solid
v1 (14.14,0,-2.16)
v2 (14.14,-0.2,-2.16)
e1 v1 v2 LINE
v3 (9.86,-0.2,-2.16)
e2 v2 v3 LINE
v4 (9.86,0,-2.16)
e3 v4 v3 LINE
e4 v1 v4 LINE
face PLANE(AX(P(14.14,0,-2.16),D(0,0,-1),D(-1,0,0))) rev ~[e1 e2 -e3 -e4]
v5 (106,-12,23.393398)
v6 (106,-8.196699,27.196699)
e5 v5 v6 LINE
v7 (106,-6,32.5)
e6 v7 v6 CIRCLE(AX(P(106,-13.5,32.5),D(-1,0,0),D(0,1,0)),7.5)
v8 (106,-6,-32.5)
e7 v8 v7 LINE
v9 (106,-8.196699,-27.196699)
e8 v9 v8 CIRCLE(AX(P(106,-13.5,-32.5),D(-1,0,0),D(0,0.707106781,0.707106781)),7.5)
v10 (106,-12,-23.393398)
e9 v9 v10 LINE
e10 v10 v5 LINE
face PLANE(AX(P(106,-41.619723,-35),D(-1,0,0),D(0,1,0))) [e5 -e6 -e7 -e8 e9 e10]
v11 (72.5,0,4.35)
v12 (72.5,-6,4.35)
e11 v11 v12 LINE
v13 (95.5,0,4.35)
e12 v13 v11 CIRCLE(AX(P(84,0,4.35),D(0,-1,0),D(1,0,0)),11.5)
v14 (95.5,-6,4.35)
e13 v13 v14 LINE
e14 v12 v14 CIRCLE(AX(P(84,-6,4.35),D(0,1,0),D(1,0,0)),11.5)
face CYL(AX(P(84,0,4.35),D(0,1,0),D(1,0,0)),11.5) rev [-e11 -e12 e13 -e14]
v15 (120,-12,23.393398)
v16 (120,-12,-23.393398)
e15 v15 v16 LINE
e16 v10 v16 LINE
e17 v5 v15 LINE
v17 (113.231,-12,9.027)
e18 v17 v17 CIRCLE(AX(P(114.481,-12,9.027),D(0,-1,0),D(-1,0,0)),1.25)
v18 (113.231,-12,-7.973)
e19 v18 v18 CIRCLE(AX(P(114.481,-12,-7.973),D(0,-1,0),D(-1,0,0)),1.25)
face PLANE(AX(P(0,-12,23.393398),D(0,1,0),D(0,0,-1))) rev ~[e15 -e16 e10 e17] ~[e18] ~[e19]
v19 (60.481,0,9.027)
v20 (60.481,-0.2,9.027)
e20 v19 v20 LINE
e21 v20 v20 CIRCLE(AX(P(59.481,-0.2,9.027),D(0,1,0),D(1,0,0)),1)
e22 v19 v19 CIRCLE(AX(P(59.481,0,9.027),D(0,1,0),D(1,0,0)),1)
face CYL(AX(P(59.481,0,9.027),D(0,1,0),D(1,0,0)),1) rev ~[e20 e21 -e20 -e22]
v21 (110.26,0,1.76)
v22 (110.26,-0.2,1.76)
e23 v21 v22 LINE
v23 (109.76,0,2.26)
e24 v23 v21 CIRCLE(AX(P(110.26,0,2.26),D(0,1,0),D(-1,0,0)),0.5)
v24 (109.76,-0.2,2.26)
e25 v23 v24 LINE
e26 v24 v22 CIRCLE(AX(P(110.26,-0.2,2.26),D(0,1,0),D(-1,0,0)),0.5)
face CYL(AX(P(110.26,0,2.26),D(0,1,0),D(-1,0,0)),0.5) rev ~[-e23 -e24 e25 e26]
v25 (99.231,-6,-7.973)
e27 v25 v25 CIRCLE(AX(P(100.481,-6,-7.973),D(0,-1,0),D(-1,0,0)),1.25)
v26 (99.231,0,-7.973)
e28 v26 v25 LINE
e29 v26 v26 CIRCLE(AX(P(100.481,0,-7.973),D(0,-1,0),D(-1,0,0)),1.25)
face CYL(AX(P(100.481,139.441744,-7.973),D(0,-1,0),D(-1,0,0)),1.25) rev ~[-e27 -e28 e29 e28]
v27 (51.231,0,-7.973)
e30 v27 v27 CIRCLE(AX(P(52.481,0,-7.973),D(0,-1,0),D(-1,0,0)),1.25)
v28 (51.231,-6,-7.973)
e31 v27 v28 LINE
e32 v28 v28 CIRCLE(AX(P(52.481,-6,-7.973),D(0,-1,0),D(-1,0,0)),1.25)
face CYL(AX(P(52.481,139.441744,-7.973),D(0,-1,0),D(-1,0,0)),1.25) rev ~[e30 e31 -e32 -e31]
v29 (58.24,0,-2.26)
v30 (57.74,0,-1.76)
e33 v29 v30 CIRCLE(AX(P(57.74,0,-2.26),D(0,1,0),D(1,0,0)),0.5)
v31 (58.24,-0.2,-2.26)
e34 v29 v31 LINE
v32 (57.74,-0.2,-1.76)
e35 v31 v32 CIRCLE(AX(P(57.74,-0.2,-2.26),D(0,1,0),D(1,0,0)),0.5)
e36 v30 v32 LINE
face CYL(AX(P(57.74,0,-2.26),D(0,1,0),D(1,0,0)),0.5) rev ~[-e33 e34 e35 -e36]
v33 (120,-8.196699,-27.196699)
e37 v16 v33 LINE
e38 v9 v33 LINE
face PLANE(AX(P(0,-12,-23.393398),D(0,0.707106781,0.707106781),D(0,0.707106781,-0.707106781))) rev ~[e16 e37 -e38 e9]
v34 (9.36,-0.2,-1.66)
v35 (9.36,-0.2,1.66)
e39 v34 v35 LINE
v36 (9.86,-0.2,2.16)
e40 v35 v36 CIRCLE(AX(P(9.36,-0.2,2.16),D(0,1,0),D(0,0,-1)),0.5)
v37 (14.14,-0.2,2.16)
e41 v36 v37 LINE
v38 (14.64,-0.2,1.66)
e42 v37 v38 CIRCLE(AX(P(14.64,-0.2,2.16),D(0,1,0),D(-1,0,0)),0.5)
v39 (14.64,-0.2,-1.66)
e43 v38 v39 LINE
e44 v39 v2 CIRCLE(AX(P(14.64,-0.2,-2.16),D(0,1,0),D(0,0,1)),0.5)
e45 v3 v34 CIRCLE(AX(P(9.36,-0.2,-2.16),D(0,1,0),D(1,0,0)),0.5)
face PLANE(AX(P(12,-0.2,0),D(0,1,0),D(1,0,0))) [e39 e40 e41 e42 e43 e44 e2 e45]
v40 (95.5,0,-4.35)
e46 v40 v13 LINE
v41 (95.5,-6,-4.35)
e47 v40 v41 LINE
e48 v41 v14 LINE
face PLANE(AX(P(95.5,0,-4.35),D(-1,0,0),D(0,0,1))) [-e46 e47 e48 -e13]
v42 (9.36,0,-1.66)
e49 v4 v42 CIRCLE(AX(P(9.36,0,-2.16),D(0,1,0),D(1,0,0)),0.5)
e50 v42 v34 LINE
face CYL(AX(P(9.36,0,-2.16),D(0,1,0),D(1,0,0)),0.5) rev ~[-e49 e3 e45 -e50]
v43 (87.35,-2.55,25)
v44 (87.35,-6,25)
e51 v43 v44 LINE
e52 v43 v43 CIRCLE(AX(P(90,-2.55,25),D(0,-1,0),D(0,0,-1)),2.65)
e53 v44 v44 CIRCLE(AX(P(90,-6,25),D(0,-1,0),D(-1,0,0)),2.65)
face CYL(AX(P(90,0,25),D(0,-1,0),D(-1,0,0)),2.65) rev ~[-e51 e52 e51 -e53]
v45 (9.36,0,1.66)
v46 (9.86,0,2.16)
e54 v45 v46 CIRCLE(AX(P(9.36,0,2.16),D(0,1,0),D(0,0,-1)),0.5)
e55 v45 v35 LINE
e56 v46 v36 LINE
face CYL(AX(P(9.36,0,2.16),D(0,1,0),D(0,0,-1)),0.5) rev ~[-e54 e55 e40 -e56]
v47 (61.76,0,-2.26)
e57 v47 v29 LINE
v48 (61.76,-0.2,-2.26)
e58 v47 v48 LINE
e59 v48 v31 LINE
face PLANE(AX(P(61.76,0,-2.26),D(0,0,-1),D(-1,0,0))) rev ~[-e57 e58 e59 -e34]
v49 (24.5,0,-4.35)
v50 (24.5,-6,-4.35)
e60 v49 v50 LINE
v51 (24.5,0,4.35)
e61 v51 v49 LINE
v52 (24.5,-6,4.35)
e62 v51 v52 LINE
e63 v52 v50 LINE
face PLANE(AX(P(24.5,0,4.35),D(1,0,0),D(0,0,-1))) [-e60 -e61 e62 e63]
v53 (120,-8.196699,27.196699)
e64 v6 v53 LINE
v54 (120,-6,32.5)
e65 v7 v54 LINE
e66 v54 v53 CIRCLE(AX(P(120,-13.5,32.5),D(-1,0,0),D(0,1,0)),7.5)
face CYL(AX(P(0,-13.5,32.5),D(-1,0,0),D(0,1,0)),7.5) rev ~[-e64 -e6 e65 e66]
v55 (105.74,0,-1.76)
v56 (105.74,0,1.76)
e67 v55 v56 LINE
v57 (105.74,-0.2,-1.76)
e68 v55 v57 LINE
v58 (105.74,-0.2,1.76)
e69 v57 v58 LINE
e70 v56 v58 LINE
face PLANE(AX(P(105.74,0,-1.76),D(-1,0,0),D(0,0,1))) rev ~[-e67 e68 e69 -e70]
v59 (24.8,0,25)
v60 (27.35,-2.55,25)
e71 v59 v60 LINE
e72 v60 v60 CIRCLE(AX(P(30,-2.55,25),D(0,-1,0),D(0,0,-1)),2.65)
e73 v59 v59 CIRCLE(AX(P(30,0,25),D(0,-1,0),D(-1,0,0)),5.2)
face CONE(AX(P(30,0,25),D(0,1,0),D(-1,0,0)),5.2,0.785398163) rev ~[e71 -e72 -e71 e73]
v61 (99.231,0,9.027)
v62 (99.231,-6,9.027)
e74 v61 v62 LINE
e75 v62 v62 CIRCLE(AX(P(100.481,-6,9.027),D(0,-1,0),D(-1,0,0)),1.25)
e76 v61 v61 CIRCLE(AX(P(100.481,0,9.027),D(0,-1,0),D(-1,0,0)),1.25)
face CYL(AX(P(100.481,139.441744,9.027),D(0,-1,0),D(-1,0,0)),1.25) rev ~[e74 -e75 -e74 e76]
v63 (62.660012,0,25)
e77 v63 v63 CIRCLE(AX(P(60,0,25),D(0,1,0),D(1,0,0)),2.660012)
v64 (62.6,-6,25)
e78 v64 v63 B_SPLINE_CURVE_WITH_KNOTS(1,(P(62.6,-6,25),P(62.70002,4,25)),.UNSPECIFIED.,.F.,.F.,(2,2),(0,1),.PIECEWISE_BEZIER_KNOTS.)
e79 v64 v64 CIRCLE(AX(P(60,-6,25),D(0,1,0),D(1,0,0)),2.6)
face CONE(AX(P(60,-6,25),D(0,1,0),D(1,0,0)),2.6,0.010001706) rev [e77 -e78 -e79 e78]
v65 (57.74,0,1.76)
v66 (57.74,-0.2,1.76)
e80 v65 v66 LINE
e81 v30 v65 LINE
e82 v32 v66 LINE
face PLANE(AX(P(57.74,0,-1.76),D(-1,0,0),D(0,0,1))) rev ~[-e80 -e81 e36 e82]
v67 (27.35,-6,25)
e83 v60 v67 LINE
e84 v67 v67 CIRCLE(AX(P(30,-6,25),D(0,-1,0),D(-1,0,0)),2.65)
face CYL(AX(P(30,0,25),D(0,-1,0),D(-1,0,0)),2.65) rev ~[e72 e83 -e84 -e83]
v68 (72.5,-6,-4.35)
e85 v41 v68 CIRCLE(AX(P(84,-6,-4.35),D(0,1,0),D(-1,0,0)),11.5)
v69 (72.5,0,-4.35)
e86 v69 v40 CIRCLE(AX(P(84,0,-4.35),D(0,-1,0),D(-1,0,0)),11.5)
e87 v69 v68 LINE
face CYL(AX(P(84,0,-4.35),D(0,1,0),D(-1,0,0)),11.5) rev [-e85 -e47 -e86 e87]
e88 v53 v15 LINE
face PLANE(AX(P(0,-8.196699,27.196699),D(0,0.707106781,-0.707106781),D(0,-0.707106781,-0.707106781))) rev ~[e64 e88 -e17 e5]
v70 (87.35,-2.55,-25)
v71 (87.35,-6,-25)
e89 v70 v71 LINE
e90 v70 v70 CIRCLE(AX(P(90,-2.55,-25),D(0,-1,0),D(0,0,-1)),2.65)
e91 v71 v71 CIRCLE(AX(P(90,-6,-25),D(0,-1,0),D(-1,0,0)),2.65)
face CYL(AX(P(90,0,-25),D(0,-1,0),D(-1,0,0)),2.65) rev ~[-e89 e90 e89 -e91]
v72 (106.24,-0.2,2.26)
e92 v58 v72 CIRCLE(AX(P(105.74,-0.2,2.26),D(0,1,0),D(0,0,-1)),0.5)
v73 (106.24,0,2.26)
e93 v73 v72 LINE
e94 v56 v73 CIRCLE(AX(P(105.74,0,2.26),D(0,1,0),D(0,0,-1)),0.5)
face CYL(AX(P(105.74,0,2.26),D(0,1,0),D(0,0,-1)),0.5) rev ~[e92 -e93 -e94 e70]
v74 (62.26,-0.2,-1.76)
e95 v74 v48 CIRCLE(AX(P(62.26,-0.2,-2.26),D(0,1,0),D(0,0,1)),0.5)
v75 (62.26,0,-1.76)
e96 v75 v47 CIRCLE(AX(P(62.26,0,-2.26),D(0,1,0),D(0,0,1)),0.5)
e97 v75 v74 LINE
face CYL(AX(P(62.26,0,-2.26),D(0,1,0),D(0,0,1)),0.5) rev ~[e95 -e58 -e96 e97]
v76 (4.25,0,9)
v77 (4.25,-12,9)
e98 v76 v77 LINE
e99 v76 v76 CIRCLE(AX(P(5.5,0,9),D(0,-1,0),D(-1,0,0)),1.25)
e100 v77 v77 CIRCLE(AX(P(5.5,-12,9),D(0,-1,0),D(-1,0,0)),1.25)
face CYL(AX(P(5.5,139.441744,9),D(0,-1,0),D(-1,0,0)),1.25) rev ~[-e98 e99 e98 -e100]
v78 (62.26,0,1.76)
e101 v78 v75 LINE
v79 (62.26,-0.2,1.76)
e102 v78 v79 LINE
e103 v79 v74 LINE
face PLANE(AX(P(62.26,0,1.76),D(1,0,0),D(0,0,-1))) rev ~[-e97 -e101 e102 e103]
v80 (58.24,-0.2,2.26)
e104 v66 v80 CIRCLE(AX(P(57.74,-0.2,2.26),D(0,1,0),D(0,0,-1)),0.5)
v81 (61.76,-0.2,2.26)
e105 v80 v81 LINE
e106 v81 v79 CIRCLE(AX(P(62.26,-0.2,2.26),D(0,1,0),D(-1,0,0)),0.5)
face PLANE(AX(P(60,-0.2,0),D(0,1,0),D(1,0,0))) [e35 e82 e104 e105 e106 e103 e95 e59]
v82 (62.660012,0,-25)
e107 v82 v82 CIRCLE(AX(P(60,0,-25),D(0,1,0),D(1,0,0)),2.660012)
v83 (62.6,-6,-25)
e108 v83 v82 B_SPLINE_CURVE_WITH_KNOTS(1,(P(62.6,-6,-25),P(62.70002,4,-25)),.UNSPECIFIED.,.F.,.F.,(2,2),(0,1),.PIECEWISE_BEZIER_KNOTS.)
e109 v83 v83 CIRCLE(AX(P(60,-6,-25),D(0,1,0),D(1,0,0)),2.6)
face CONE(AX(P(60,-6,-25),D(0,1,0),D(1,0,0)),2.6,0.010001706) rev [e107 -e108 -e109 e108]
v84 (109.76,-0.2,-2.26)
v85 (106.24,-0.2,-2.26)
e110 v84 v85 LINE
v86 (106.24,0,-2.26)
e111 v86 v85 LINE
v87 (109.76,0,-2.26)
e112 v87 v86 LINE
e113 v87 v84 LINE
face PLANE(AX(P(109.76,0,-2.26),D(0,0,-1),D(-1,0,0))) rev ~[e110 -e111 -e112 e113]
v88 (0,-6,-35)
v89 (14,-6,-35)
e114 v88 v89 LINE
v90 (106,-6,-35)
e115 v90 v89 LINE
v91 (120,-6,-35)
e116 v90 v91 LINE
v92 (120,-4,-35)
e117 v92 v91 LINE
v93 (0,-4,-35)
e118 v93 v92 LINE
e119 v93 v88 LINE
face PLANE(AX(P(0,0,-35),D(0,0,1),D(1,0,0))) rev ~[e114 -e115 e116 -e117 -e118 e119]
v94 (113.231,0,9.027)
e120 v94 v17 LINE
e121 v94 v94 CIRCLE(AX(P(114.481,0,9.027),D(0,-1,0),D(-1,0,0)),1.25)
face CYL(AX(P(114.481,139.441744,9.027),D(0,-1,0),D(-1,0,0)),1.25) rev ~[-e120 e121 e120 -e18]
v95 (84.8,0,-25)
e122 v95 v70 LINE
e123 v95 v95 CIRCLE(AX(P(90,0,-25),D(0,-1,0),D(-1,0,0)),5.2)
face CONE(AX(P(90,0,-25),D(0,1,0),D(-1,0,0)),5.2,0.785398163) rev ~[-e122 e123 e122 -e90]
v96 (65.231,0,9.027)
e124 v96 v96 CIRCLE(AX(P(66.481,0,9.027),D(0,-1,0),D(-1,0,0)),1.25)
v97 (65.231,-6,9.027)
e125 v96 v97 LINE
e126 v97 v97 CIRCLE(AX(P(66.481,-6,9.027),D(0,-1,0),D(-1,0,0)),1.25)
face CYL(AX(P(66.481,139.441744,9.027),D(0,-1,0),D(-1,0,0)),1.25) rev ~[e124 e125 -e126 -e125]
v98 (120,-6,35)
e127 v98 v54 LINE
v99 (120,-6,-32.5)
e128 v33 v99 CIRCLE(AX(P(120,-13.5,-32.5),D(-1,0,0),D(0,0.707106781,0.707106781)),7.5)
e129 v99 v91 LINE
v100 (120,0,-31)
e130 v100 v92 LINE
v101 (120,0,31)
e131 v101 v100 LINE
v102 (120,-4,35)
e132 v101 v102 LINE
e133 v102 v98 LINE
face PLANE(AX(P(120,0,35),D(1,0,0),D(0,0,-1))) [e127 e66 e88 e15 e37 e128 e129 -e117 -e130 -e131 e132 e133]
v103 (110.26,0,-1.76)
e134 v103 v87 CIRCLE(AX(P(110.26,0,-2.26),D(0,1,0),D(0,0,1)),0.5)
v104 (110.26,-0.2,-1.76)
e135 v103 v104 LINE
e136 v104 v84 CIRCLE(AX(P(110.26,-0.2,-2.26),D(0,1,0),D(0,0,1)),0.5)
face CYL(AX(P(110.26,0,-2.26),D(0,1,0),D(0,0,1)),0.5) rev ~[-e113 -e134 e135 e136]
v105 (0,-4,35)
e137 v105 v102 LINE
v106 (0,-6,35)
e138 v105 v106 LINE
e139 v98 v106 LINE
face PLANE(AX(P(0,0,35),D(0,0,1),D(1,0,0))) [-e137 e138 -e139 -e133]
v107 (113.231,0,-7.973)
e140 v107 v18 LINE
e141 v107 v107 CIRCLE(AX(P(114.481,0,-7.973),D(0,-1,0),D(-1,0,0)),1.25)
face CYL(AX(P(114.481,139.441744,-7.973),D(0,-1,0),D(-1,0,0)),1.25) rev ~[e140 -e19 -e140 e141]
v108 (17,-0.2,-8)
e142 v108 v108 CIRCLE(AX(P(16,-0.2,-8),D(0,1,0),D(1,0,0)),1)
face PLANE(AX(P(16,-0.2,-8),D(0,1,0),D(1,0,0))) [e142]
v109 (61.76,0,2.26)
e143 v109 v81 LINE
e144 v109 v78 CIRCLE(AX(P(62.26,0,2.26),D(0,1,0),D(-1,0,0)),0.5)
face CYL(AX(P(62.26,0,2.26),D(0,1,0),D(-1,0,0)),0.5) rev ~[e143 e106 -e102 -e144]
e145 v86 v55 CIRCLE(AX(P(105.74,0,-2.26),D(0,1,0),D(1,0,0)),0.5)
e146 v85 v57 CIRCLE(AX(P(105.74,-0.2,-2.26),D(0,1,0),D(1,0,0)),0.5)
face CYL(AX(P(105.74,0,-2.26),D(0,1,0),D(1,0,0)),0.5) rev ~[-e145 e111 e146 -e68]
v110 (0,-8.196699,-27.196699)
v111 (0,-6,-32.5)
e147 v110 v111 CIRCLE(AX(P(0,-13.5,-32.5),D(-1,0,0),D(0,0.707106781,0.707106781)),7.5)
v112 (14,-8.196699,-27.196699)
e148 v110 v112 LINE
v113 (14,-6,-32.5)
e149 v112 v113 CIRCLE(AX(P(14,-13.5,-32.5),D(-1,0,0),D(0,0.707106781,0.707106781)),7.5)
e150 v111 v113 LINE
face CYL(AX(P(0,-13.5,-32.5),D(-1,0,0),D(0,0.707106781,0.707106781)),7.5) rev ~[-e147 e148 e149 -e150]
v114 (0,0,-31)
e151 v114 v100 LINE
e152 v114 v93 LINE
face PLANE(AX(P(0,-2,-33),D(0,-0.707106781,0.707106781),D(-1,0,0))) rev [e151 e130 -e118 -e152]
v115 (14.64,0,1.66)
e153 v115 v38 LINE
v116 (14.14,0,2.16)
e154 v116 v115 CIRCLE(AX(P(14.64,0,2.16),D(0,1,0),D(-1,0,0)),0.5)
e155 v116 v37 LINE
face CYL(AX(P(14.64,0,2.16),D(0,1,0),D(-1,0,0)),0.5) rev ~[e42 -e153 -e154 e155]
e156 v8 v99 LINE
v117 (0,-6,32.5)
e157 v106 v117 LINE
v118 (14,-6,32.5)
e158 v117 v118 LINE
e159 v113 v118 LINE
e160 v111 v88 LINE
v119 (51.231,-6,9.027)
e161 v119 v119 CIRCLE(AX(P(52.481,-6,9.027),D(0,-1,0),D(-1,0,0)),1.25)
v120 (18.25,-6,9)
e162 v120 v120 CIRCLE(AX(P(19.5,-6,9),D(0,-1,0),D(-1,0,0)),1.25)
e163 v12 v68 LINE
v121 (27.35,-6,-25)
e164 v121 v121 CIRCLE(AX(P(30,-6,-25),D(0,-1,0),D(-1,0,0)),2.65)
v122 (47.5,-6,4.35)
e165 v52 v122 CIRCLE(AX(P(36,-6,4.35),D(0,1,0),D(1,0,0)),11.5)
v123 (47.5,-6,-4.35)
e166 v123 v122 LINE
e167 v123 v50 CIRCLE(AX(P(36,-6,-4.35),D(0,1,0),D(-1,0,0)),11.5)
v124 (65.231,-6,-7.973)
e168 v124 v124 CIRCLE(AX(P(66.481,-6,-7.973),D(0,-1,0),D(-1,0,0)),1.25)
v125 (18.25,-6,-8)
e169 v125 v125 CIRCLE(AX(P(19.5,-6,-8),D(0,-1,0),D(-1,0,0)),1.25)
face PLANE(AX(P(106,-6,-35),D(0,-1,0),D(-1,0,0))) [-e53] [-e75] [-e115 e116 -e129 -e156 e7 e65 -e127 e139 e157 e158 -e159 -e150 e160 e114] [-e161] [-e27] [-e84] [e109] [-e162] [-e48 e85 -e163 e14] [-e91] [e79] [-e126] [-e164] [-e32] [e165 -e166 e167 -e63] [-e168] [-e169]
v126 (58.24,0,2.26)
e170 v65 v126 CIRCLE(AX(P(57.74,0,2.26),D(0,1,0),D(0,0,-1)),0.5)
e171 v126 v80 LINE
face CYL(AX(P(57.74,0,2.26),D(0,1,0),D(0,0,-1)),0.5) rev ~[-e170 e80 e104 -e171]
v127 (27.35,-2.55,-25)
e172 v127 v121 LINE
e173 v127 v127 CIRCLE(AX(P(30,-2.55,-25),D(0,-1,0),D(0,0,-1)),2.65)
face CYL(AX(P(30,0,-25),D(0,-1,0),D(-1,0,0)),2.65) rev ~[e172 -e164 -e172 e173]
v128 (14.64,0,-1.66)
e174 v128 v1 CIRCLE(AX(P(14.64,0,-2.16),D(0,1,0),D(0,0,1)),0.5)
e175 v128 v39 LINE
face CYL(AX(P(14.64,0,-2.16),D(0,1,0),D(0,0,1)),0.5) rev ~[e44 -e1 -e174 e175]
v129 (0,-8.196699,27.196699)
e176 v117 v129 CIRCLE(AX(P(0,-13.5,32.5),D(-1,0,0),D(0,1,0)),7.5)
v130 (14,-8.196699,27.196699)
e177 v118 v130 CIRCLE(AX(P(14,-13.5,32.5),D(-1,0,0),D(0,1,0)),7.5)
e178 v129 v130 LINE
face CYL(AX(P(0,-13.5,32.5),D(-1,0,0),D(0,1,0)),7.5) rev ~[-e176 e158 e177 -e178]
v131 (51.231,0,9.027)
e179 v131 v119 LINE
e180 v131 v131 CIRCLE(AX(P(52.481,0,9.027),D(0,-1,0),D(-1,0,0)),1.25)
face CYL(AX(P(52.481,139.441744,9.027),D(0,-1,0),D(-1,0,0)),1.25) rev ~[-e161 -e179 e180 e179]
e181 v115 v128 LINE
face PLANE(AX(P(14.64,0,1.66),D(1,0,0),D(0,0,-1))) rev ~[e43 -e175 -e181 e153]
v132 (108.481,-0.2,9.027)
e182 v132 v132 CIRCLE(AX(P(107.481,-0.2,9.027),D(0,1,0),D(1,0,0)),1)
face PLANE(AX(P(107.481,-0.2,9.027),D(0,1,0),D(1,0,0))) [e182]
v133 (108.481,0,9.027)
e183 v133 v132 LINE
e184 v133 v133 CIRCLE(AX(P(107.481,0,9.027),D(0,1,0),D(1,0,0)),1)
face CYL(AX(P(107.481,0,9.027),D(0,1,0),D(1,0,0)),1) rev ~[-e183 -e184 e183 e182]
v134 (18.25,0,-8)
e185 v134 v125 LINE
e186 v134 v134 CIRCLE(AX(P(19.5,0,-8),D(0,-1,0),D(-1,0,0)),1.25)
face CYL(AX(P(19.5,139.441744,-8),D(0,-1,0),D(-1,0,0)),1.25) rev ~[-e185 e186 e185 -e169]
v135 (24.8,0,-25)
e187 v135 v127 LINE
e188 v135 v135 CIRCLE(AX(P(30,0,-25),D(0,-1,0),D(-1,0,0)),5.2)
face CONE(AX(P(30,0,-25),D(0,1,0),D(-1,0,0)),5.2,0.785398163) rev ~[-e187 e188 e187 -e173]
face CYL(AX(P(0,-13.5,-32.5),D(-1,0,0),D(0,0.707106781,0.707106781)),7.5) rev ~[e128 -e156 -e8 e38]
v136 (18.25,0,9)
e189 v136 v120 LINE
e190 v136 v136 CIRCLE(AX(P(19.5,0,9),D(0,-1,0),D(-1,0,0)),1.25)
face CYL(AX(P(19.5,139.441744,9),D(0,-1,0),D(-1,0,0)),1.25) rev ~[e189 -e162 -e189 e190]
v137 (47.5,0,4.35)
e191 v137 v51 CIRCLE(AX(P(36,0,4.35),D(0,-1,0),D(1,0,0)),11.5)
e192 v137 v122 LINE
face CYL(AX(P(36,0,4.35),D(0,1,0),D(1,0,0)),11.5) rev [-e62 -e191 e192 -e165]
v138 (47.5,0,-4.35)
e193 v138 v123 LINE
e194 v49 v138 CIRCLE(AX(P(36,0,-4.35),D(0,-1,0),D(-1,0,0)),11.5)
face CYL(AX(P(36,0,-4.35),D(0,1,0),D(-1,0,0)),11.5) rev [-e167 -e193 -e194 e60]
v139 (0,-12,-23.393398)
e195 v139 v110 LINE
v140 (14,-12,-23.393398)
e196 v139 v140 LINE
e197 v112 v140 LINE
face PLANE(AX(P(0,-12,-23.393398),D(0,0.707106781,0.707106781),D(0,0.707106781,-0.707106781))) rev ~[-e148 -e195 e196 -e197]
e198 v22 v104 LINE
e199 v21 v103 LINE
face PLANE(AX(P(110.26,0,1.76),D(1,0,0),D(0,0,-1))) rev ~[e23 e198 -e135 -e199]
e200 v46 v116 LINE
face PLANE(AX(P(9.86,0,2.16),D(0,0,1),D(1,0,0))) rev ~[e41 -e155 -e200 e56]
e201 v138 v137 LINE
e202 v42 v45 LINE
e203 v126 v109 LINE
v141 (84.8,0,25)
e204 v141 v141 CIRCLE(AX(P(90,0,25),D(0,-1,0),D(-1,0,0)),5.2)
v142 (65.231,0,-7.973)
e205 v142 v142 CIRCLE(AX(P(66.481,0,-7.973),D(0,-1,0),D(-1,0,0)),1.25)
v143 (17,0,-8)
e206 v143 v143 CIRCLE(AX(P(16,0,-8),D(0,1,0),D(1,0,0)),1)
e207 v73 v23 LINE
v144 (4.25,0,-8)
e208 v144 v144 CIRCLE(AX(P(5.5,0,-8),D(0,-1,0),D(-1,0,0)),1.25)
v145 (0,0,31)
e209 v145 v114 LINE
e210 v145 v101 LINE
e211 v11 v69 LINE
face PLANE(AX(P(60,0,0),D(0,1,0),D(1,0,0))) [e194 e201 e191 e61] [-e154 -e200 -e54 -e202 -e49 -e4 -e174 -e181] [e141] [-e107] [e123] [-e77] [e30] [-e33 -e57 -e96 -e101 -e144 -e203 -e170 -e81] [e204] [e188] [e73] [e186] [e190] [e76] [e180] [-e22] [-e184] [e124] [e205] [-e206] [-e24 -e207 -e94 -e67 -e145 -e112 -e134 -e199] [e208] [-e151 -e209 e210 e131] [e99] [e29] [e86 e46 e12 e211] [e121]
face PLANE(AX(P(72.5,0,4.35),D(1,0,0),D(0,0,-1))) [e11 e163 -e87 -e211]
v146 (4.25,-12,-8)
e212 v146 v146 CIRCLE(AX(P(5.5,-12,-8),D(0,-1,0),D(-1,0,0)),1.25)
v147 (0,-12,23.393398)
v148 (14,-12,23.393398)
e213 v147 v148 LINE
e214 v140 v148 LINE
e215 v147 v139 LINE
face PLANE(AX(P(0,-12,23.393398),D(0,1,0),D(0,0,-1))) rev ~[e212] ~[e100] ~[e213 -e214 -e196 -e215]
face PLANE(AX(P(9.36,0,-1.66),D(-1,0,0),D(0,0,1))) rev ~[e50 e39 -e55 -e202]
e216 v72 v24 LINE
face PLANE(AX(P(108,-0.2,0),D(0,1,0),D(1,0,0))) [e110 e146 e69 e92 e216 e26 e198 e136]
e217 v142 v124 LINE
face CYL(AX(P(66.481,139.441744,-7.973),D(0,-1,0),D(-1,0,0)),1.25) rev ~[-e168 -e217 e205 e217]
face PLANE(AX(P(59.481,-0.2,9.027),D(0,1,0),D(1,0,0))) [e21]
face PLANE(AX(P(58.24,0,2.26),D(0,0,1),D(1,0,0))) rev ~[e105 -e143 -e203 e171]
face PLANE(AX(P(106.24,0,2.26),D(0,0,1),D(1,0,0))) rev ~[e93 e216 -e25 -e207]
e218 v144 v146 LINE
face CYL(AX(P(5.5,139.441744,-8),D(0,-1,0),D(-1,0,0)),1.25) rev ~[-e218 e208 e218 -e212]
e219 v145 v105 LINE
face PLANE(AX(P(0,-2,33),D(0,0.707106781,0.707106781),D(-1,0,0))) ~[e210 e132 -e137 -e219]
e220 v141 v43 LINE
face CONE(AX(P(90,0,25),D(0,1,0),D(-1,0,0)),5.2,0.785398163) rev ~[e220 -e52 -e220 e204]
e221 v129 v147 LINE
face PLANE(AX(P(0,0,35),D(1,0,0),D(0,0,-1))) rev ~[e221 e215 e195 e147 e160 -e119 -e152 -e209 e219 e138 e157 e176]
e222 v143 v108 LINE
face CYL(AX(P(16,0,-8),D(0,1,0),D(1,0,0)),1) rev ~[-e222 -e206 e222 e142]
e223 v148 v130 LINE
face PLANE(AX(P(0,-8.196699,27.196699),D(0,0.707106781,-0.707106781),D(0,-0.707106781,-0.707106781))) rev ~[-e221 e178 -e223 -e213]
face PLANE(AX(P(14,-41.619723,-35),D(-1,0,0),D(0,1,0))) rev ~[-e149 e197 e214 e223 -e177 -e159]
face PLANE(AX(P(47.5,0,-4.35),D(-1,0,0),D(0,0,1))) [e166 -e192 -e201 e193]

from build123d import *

# Parameters (mm, degrees)
SKETCH_5_W                  = 120
SKETCH_5_H                  = 70
EXTRUDE_2_DEPTH             = 6
SKETCH1_R                   = 1
CUT_EXTRUDE1_DEPTH          = 0.2
SKETCH2_R                   = 1
CUT_EXTRUDE2_DEPTH          = 0.2
HOLE_WIZARD_M51_D           = 5.3
HOLE_WIZARD_M51_CSINK_D     = 10.4
HOLE_WIZARD_M51_CSINK_ANGLE = 90
SKETCH5_R                   = 2.6
CUT_EXTRUDE4_DEPTH          = 10
CUT_EXTRUDE4_TAPER          = -0.573055556
CUT_EXTRUDE_1_DEPTH         = 7.0000001
EXTRUDE_3_DEPTH             = 120
SKETCH_8_W                  = 92
SKETCH_8_H                  = 35.619722669
CUT_EXTRUDE_2_DEPTH         = 71
CHAMFER_1_SIZE              = 4
M3X0_51_D                   = 2.5


with BuildPart() as part:
    # Эскиз5 → Бобышка-Вытянуть2 (new body)
    with BuildSketch(Plane(origin=(0, 0, 0), x_dir=(1, 0, 0), z_dir=(0, 1, 0))):
        with Locations((60, 0)):
            Rectangle(SKETCH_5_W, SKETCH_5_H)
    extrude(amount=-EXTRUDE_2_DEPTH)

    # Sketch1 → Cut-Extrude1 (cut)
    with BuildSketch(Plane(origin=(0, 0, 0), x_dir=(1, 0, 0), z_dir=(0, 1, 0))):
        with Locations((16, 8)):
            Circle(SKETCH1_R)
        with BuildLine():
            Line((9.86, -2.16), (14.14, -2.16))
            ThreePointArc((14.14, -2.16), (14.993553391, -2.513553391), (14.64, -1.66))
            Line((14.64, -1.66), (14.64, 1.66))
            ThreePointArc((14.64, 1.66), (14.993553391, 2.513553391), (14.14, 2.16))
            Line((14.14, 2.16), (9.86, 2.16))
            ThreePointArc((9.86, 2.16), (9.006446609, 2.513553391), (9.36, 1.66))
            Line((9.36, 1.66), (9.36, -1.66))
            ThreePointArc((9.36, -1.66), (9.006446609, -2.513553391), (9.86, -2.16))
        make_face()
    extrude(amount=-CUT_EXTRUDE1_DEPTH, mode=Mode.SUBTRACT)

    # Sketch2 → Cut-Extrude2 (cut)
    with BuildSketch(Plane(origin=(0, 0, 0), x_dir=(1, 0, 0), z_dir=(0, 1, 0))):
        with Locations((59.481, -9.027)):
            Circle(SKETCH2_R)
        with Locations((107.481, -9.027)):
            Circle(SKETCH2_R)
        with BuildLine():
            Line((57.74, 1.76), (57.74, -1.76))
            ThreePointArc((57.74, -1.76), (57.386446609, -2.613553391), (58.24, -2.26))
            Line((58.24, -2.26), (61.76, -2.26))
            ThreePointArc((61.76, -2.26), (62.613553391, -2.613553391), (62.26, -1.76))
            Line((62.26, -1.76), (62.26, 1.76))
            ThreePointArc((62.26, 1.76), (62.613553391, 2.613553391), (61.76, 2.26))
            Line((61.76, 2.26), (58.24, 2.26))
            ThreePointArc((58.24, 2.26), (57.386446609, 2.613553391), (57.74, 1.76))
        make_face()
        with BuildLine():
            Line((105.74, 1.76), (105.74, -1.76))
            ThreePointArc((105.74, -1.76), (105.386446609, -2.613553391), (106.24, -2.26))
            Line((106.24, -2.26), (109.76, -2.26))
            ThreePointArc((109.76, -2.26), (110.613553391, -2.613553391), (110.26, -1.76))
            Line((110.26, -1.76), (110.26, 1.76))
            ThreePointArc((110.26, 1.76), (110.613553391, 2.613553391), (109.76, 2.26))
            Line((109.76, 2.26), (106.24, 2.26))
            ThreePointArc((106.24, 2.26), (105.386446609, 2.613553391), (105.74, 1.76))
        make_face()
    extrude(amount=-CUT_EXTRUDE2_DEPTH, mode=Mode.SUBTRACT)

    # Зенковка для  винта с плоской головкой M51 (through all)
    with Locations(Plane(origin=(0, 0, 0), x_dir=(1, 0, 0), z_dir=(0, 1, 0))):
        with Locations((30, 25), (90, 25), (90, -25), (30, -25)):
            CounterSinkHole(HOLE_WIZARD_M51_D / 2, HOLE_WIZARD_M51_CSINK_D / 2, counter_sink_angle=HOLE_WIZARD_M51_CSINK_ANGLE)

    # Sketch5 → Cut-Extrude4 (cut)
    with BuildSketch(Plane.XZ.offset(6)):
        with Locations((60, 25)):
            Circle(SKETCH5_R)
        with Locations((60, -25)):
            Circle(SKETCH5_R)
    extrude(amount=-CUT_EXTRUDE4_DEPTH, taper=CUT_EXTRUDE4_TAPER, mode=Mode.SUBTRACT)

    # Эскиз6 → Вырез-Вытянуть1 (cut, through all)
    with BuildSketch(Plane(origin=(0, 0, 0), x_dir=(1, 0, 0), z_dir=(0, 1, 0))):
        with BuildLine():
            Line((95.5, 4.35), (95.5, -4.35))
            ThreePointArc((95.5, -4.35), (84, -15.85), (72.5, -4.35))
            Line((72.5, -4.35), (72.5, 4.35))
            ThreePointArc((72.5, 4.35), (84, 15.85), (95.5, 4.35))
        make_face()
        with BuildLine():
            Line((47.5, 4.35), (47.5, -4.35))
            ThreePointArc((47.5, -4.35), (36, -15.85), (24.5, -4.35))
            Line((24.5, -4.35), (24.5, 4.35))
            ThreePointArc((24.5, 4.35), (36, 15.85), (47.5, 4.35))
        make_face()
    extrude(amount=-CUT_EXTRUDE_1_DEPTH, mode=Mode.SUBTRACT)

    # Эскиз7 → Бобышка-Вытянуть3 (add, through all)
    with BuildSketch(Plane.ZY):
        with BuildLine():
            Line((-32.5, -6), (32.5, -6))
            ThreePointArc((32.5, -6), (29.629874257, -6.570903506), (27.196699141, -8.196699141))
            Line((27.196699141, -8.196699141), (23.393398282, -12))
            Line((23.393398282, -12), (-23.393398282, -12))
            Line((-23.393398282, -12), (-27.196699141, -8.196699141))
            ThreePointArc((-27.196699141, -8.196699141), (-29.629874257, -6.570903506), (-32.5, -6))
        make_face()
    extrude(amount=-EXTRUDE_3_DEPTH)

    # Эскиз8 → Вырез-Вытянуть2 (cut, through all)
    with BuildSketch(Plane(origin=(0, 0, -35), x_dir=(-1, 0, 0), z_dir=(0, 0, -1))):
        with Locations((-60, -23.809861335)):
            Rectangle(SKETCH_8_W, SKETCH_8_H)
    extrude(amount=-CUT_EXTRUDE_2_DEPTH, mode=Mode.SUBTRACT)

    # Фаска1
    chamfer_1_edges = [part.edges().sort_by_distance(p)[0] for p in [
        (60, 0, 35),
        (60, 0, -35),
    ]]
    chamfer(chamfer_1_edges, length=CHAMFER_1_SIZE)

    # Отверстие обработанное метчиком M3x0.51 (through all)
    with Locations(Plane(origin=(0, 0, 0), x_dir=(1, 0, 0), z_dir=(0, 1, 0))):
        with Locations((114.481, -9.027), (100.481, -9.027), (100.481, 7.973), (114.481, 7.973), (66.481, 7.973), (52.481, 7.973), (52.481, -9.027), (66.481, -9.027), (19.5, -9), (5.5, -9), (5.5, 8), (19.5, 8)):
            Hole(M3X0_51_D / 2)


solid = part.part
